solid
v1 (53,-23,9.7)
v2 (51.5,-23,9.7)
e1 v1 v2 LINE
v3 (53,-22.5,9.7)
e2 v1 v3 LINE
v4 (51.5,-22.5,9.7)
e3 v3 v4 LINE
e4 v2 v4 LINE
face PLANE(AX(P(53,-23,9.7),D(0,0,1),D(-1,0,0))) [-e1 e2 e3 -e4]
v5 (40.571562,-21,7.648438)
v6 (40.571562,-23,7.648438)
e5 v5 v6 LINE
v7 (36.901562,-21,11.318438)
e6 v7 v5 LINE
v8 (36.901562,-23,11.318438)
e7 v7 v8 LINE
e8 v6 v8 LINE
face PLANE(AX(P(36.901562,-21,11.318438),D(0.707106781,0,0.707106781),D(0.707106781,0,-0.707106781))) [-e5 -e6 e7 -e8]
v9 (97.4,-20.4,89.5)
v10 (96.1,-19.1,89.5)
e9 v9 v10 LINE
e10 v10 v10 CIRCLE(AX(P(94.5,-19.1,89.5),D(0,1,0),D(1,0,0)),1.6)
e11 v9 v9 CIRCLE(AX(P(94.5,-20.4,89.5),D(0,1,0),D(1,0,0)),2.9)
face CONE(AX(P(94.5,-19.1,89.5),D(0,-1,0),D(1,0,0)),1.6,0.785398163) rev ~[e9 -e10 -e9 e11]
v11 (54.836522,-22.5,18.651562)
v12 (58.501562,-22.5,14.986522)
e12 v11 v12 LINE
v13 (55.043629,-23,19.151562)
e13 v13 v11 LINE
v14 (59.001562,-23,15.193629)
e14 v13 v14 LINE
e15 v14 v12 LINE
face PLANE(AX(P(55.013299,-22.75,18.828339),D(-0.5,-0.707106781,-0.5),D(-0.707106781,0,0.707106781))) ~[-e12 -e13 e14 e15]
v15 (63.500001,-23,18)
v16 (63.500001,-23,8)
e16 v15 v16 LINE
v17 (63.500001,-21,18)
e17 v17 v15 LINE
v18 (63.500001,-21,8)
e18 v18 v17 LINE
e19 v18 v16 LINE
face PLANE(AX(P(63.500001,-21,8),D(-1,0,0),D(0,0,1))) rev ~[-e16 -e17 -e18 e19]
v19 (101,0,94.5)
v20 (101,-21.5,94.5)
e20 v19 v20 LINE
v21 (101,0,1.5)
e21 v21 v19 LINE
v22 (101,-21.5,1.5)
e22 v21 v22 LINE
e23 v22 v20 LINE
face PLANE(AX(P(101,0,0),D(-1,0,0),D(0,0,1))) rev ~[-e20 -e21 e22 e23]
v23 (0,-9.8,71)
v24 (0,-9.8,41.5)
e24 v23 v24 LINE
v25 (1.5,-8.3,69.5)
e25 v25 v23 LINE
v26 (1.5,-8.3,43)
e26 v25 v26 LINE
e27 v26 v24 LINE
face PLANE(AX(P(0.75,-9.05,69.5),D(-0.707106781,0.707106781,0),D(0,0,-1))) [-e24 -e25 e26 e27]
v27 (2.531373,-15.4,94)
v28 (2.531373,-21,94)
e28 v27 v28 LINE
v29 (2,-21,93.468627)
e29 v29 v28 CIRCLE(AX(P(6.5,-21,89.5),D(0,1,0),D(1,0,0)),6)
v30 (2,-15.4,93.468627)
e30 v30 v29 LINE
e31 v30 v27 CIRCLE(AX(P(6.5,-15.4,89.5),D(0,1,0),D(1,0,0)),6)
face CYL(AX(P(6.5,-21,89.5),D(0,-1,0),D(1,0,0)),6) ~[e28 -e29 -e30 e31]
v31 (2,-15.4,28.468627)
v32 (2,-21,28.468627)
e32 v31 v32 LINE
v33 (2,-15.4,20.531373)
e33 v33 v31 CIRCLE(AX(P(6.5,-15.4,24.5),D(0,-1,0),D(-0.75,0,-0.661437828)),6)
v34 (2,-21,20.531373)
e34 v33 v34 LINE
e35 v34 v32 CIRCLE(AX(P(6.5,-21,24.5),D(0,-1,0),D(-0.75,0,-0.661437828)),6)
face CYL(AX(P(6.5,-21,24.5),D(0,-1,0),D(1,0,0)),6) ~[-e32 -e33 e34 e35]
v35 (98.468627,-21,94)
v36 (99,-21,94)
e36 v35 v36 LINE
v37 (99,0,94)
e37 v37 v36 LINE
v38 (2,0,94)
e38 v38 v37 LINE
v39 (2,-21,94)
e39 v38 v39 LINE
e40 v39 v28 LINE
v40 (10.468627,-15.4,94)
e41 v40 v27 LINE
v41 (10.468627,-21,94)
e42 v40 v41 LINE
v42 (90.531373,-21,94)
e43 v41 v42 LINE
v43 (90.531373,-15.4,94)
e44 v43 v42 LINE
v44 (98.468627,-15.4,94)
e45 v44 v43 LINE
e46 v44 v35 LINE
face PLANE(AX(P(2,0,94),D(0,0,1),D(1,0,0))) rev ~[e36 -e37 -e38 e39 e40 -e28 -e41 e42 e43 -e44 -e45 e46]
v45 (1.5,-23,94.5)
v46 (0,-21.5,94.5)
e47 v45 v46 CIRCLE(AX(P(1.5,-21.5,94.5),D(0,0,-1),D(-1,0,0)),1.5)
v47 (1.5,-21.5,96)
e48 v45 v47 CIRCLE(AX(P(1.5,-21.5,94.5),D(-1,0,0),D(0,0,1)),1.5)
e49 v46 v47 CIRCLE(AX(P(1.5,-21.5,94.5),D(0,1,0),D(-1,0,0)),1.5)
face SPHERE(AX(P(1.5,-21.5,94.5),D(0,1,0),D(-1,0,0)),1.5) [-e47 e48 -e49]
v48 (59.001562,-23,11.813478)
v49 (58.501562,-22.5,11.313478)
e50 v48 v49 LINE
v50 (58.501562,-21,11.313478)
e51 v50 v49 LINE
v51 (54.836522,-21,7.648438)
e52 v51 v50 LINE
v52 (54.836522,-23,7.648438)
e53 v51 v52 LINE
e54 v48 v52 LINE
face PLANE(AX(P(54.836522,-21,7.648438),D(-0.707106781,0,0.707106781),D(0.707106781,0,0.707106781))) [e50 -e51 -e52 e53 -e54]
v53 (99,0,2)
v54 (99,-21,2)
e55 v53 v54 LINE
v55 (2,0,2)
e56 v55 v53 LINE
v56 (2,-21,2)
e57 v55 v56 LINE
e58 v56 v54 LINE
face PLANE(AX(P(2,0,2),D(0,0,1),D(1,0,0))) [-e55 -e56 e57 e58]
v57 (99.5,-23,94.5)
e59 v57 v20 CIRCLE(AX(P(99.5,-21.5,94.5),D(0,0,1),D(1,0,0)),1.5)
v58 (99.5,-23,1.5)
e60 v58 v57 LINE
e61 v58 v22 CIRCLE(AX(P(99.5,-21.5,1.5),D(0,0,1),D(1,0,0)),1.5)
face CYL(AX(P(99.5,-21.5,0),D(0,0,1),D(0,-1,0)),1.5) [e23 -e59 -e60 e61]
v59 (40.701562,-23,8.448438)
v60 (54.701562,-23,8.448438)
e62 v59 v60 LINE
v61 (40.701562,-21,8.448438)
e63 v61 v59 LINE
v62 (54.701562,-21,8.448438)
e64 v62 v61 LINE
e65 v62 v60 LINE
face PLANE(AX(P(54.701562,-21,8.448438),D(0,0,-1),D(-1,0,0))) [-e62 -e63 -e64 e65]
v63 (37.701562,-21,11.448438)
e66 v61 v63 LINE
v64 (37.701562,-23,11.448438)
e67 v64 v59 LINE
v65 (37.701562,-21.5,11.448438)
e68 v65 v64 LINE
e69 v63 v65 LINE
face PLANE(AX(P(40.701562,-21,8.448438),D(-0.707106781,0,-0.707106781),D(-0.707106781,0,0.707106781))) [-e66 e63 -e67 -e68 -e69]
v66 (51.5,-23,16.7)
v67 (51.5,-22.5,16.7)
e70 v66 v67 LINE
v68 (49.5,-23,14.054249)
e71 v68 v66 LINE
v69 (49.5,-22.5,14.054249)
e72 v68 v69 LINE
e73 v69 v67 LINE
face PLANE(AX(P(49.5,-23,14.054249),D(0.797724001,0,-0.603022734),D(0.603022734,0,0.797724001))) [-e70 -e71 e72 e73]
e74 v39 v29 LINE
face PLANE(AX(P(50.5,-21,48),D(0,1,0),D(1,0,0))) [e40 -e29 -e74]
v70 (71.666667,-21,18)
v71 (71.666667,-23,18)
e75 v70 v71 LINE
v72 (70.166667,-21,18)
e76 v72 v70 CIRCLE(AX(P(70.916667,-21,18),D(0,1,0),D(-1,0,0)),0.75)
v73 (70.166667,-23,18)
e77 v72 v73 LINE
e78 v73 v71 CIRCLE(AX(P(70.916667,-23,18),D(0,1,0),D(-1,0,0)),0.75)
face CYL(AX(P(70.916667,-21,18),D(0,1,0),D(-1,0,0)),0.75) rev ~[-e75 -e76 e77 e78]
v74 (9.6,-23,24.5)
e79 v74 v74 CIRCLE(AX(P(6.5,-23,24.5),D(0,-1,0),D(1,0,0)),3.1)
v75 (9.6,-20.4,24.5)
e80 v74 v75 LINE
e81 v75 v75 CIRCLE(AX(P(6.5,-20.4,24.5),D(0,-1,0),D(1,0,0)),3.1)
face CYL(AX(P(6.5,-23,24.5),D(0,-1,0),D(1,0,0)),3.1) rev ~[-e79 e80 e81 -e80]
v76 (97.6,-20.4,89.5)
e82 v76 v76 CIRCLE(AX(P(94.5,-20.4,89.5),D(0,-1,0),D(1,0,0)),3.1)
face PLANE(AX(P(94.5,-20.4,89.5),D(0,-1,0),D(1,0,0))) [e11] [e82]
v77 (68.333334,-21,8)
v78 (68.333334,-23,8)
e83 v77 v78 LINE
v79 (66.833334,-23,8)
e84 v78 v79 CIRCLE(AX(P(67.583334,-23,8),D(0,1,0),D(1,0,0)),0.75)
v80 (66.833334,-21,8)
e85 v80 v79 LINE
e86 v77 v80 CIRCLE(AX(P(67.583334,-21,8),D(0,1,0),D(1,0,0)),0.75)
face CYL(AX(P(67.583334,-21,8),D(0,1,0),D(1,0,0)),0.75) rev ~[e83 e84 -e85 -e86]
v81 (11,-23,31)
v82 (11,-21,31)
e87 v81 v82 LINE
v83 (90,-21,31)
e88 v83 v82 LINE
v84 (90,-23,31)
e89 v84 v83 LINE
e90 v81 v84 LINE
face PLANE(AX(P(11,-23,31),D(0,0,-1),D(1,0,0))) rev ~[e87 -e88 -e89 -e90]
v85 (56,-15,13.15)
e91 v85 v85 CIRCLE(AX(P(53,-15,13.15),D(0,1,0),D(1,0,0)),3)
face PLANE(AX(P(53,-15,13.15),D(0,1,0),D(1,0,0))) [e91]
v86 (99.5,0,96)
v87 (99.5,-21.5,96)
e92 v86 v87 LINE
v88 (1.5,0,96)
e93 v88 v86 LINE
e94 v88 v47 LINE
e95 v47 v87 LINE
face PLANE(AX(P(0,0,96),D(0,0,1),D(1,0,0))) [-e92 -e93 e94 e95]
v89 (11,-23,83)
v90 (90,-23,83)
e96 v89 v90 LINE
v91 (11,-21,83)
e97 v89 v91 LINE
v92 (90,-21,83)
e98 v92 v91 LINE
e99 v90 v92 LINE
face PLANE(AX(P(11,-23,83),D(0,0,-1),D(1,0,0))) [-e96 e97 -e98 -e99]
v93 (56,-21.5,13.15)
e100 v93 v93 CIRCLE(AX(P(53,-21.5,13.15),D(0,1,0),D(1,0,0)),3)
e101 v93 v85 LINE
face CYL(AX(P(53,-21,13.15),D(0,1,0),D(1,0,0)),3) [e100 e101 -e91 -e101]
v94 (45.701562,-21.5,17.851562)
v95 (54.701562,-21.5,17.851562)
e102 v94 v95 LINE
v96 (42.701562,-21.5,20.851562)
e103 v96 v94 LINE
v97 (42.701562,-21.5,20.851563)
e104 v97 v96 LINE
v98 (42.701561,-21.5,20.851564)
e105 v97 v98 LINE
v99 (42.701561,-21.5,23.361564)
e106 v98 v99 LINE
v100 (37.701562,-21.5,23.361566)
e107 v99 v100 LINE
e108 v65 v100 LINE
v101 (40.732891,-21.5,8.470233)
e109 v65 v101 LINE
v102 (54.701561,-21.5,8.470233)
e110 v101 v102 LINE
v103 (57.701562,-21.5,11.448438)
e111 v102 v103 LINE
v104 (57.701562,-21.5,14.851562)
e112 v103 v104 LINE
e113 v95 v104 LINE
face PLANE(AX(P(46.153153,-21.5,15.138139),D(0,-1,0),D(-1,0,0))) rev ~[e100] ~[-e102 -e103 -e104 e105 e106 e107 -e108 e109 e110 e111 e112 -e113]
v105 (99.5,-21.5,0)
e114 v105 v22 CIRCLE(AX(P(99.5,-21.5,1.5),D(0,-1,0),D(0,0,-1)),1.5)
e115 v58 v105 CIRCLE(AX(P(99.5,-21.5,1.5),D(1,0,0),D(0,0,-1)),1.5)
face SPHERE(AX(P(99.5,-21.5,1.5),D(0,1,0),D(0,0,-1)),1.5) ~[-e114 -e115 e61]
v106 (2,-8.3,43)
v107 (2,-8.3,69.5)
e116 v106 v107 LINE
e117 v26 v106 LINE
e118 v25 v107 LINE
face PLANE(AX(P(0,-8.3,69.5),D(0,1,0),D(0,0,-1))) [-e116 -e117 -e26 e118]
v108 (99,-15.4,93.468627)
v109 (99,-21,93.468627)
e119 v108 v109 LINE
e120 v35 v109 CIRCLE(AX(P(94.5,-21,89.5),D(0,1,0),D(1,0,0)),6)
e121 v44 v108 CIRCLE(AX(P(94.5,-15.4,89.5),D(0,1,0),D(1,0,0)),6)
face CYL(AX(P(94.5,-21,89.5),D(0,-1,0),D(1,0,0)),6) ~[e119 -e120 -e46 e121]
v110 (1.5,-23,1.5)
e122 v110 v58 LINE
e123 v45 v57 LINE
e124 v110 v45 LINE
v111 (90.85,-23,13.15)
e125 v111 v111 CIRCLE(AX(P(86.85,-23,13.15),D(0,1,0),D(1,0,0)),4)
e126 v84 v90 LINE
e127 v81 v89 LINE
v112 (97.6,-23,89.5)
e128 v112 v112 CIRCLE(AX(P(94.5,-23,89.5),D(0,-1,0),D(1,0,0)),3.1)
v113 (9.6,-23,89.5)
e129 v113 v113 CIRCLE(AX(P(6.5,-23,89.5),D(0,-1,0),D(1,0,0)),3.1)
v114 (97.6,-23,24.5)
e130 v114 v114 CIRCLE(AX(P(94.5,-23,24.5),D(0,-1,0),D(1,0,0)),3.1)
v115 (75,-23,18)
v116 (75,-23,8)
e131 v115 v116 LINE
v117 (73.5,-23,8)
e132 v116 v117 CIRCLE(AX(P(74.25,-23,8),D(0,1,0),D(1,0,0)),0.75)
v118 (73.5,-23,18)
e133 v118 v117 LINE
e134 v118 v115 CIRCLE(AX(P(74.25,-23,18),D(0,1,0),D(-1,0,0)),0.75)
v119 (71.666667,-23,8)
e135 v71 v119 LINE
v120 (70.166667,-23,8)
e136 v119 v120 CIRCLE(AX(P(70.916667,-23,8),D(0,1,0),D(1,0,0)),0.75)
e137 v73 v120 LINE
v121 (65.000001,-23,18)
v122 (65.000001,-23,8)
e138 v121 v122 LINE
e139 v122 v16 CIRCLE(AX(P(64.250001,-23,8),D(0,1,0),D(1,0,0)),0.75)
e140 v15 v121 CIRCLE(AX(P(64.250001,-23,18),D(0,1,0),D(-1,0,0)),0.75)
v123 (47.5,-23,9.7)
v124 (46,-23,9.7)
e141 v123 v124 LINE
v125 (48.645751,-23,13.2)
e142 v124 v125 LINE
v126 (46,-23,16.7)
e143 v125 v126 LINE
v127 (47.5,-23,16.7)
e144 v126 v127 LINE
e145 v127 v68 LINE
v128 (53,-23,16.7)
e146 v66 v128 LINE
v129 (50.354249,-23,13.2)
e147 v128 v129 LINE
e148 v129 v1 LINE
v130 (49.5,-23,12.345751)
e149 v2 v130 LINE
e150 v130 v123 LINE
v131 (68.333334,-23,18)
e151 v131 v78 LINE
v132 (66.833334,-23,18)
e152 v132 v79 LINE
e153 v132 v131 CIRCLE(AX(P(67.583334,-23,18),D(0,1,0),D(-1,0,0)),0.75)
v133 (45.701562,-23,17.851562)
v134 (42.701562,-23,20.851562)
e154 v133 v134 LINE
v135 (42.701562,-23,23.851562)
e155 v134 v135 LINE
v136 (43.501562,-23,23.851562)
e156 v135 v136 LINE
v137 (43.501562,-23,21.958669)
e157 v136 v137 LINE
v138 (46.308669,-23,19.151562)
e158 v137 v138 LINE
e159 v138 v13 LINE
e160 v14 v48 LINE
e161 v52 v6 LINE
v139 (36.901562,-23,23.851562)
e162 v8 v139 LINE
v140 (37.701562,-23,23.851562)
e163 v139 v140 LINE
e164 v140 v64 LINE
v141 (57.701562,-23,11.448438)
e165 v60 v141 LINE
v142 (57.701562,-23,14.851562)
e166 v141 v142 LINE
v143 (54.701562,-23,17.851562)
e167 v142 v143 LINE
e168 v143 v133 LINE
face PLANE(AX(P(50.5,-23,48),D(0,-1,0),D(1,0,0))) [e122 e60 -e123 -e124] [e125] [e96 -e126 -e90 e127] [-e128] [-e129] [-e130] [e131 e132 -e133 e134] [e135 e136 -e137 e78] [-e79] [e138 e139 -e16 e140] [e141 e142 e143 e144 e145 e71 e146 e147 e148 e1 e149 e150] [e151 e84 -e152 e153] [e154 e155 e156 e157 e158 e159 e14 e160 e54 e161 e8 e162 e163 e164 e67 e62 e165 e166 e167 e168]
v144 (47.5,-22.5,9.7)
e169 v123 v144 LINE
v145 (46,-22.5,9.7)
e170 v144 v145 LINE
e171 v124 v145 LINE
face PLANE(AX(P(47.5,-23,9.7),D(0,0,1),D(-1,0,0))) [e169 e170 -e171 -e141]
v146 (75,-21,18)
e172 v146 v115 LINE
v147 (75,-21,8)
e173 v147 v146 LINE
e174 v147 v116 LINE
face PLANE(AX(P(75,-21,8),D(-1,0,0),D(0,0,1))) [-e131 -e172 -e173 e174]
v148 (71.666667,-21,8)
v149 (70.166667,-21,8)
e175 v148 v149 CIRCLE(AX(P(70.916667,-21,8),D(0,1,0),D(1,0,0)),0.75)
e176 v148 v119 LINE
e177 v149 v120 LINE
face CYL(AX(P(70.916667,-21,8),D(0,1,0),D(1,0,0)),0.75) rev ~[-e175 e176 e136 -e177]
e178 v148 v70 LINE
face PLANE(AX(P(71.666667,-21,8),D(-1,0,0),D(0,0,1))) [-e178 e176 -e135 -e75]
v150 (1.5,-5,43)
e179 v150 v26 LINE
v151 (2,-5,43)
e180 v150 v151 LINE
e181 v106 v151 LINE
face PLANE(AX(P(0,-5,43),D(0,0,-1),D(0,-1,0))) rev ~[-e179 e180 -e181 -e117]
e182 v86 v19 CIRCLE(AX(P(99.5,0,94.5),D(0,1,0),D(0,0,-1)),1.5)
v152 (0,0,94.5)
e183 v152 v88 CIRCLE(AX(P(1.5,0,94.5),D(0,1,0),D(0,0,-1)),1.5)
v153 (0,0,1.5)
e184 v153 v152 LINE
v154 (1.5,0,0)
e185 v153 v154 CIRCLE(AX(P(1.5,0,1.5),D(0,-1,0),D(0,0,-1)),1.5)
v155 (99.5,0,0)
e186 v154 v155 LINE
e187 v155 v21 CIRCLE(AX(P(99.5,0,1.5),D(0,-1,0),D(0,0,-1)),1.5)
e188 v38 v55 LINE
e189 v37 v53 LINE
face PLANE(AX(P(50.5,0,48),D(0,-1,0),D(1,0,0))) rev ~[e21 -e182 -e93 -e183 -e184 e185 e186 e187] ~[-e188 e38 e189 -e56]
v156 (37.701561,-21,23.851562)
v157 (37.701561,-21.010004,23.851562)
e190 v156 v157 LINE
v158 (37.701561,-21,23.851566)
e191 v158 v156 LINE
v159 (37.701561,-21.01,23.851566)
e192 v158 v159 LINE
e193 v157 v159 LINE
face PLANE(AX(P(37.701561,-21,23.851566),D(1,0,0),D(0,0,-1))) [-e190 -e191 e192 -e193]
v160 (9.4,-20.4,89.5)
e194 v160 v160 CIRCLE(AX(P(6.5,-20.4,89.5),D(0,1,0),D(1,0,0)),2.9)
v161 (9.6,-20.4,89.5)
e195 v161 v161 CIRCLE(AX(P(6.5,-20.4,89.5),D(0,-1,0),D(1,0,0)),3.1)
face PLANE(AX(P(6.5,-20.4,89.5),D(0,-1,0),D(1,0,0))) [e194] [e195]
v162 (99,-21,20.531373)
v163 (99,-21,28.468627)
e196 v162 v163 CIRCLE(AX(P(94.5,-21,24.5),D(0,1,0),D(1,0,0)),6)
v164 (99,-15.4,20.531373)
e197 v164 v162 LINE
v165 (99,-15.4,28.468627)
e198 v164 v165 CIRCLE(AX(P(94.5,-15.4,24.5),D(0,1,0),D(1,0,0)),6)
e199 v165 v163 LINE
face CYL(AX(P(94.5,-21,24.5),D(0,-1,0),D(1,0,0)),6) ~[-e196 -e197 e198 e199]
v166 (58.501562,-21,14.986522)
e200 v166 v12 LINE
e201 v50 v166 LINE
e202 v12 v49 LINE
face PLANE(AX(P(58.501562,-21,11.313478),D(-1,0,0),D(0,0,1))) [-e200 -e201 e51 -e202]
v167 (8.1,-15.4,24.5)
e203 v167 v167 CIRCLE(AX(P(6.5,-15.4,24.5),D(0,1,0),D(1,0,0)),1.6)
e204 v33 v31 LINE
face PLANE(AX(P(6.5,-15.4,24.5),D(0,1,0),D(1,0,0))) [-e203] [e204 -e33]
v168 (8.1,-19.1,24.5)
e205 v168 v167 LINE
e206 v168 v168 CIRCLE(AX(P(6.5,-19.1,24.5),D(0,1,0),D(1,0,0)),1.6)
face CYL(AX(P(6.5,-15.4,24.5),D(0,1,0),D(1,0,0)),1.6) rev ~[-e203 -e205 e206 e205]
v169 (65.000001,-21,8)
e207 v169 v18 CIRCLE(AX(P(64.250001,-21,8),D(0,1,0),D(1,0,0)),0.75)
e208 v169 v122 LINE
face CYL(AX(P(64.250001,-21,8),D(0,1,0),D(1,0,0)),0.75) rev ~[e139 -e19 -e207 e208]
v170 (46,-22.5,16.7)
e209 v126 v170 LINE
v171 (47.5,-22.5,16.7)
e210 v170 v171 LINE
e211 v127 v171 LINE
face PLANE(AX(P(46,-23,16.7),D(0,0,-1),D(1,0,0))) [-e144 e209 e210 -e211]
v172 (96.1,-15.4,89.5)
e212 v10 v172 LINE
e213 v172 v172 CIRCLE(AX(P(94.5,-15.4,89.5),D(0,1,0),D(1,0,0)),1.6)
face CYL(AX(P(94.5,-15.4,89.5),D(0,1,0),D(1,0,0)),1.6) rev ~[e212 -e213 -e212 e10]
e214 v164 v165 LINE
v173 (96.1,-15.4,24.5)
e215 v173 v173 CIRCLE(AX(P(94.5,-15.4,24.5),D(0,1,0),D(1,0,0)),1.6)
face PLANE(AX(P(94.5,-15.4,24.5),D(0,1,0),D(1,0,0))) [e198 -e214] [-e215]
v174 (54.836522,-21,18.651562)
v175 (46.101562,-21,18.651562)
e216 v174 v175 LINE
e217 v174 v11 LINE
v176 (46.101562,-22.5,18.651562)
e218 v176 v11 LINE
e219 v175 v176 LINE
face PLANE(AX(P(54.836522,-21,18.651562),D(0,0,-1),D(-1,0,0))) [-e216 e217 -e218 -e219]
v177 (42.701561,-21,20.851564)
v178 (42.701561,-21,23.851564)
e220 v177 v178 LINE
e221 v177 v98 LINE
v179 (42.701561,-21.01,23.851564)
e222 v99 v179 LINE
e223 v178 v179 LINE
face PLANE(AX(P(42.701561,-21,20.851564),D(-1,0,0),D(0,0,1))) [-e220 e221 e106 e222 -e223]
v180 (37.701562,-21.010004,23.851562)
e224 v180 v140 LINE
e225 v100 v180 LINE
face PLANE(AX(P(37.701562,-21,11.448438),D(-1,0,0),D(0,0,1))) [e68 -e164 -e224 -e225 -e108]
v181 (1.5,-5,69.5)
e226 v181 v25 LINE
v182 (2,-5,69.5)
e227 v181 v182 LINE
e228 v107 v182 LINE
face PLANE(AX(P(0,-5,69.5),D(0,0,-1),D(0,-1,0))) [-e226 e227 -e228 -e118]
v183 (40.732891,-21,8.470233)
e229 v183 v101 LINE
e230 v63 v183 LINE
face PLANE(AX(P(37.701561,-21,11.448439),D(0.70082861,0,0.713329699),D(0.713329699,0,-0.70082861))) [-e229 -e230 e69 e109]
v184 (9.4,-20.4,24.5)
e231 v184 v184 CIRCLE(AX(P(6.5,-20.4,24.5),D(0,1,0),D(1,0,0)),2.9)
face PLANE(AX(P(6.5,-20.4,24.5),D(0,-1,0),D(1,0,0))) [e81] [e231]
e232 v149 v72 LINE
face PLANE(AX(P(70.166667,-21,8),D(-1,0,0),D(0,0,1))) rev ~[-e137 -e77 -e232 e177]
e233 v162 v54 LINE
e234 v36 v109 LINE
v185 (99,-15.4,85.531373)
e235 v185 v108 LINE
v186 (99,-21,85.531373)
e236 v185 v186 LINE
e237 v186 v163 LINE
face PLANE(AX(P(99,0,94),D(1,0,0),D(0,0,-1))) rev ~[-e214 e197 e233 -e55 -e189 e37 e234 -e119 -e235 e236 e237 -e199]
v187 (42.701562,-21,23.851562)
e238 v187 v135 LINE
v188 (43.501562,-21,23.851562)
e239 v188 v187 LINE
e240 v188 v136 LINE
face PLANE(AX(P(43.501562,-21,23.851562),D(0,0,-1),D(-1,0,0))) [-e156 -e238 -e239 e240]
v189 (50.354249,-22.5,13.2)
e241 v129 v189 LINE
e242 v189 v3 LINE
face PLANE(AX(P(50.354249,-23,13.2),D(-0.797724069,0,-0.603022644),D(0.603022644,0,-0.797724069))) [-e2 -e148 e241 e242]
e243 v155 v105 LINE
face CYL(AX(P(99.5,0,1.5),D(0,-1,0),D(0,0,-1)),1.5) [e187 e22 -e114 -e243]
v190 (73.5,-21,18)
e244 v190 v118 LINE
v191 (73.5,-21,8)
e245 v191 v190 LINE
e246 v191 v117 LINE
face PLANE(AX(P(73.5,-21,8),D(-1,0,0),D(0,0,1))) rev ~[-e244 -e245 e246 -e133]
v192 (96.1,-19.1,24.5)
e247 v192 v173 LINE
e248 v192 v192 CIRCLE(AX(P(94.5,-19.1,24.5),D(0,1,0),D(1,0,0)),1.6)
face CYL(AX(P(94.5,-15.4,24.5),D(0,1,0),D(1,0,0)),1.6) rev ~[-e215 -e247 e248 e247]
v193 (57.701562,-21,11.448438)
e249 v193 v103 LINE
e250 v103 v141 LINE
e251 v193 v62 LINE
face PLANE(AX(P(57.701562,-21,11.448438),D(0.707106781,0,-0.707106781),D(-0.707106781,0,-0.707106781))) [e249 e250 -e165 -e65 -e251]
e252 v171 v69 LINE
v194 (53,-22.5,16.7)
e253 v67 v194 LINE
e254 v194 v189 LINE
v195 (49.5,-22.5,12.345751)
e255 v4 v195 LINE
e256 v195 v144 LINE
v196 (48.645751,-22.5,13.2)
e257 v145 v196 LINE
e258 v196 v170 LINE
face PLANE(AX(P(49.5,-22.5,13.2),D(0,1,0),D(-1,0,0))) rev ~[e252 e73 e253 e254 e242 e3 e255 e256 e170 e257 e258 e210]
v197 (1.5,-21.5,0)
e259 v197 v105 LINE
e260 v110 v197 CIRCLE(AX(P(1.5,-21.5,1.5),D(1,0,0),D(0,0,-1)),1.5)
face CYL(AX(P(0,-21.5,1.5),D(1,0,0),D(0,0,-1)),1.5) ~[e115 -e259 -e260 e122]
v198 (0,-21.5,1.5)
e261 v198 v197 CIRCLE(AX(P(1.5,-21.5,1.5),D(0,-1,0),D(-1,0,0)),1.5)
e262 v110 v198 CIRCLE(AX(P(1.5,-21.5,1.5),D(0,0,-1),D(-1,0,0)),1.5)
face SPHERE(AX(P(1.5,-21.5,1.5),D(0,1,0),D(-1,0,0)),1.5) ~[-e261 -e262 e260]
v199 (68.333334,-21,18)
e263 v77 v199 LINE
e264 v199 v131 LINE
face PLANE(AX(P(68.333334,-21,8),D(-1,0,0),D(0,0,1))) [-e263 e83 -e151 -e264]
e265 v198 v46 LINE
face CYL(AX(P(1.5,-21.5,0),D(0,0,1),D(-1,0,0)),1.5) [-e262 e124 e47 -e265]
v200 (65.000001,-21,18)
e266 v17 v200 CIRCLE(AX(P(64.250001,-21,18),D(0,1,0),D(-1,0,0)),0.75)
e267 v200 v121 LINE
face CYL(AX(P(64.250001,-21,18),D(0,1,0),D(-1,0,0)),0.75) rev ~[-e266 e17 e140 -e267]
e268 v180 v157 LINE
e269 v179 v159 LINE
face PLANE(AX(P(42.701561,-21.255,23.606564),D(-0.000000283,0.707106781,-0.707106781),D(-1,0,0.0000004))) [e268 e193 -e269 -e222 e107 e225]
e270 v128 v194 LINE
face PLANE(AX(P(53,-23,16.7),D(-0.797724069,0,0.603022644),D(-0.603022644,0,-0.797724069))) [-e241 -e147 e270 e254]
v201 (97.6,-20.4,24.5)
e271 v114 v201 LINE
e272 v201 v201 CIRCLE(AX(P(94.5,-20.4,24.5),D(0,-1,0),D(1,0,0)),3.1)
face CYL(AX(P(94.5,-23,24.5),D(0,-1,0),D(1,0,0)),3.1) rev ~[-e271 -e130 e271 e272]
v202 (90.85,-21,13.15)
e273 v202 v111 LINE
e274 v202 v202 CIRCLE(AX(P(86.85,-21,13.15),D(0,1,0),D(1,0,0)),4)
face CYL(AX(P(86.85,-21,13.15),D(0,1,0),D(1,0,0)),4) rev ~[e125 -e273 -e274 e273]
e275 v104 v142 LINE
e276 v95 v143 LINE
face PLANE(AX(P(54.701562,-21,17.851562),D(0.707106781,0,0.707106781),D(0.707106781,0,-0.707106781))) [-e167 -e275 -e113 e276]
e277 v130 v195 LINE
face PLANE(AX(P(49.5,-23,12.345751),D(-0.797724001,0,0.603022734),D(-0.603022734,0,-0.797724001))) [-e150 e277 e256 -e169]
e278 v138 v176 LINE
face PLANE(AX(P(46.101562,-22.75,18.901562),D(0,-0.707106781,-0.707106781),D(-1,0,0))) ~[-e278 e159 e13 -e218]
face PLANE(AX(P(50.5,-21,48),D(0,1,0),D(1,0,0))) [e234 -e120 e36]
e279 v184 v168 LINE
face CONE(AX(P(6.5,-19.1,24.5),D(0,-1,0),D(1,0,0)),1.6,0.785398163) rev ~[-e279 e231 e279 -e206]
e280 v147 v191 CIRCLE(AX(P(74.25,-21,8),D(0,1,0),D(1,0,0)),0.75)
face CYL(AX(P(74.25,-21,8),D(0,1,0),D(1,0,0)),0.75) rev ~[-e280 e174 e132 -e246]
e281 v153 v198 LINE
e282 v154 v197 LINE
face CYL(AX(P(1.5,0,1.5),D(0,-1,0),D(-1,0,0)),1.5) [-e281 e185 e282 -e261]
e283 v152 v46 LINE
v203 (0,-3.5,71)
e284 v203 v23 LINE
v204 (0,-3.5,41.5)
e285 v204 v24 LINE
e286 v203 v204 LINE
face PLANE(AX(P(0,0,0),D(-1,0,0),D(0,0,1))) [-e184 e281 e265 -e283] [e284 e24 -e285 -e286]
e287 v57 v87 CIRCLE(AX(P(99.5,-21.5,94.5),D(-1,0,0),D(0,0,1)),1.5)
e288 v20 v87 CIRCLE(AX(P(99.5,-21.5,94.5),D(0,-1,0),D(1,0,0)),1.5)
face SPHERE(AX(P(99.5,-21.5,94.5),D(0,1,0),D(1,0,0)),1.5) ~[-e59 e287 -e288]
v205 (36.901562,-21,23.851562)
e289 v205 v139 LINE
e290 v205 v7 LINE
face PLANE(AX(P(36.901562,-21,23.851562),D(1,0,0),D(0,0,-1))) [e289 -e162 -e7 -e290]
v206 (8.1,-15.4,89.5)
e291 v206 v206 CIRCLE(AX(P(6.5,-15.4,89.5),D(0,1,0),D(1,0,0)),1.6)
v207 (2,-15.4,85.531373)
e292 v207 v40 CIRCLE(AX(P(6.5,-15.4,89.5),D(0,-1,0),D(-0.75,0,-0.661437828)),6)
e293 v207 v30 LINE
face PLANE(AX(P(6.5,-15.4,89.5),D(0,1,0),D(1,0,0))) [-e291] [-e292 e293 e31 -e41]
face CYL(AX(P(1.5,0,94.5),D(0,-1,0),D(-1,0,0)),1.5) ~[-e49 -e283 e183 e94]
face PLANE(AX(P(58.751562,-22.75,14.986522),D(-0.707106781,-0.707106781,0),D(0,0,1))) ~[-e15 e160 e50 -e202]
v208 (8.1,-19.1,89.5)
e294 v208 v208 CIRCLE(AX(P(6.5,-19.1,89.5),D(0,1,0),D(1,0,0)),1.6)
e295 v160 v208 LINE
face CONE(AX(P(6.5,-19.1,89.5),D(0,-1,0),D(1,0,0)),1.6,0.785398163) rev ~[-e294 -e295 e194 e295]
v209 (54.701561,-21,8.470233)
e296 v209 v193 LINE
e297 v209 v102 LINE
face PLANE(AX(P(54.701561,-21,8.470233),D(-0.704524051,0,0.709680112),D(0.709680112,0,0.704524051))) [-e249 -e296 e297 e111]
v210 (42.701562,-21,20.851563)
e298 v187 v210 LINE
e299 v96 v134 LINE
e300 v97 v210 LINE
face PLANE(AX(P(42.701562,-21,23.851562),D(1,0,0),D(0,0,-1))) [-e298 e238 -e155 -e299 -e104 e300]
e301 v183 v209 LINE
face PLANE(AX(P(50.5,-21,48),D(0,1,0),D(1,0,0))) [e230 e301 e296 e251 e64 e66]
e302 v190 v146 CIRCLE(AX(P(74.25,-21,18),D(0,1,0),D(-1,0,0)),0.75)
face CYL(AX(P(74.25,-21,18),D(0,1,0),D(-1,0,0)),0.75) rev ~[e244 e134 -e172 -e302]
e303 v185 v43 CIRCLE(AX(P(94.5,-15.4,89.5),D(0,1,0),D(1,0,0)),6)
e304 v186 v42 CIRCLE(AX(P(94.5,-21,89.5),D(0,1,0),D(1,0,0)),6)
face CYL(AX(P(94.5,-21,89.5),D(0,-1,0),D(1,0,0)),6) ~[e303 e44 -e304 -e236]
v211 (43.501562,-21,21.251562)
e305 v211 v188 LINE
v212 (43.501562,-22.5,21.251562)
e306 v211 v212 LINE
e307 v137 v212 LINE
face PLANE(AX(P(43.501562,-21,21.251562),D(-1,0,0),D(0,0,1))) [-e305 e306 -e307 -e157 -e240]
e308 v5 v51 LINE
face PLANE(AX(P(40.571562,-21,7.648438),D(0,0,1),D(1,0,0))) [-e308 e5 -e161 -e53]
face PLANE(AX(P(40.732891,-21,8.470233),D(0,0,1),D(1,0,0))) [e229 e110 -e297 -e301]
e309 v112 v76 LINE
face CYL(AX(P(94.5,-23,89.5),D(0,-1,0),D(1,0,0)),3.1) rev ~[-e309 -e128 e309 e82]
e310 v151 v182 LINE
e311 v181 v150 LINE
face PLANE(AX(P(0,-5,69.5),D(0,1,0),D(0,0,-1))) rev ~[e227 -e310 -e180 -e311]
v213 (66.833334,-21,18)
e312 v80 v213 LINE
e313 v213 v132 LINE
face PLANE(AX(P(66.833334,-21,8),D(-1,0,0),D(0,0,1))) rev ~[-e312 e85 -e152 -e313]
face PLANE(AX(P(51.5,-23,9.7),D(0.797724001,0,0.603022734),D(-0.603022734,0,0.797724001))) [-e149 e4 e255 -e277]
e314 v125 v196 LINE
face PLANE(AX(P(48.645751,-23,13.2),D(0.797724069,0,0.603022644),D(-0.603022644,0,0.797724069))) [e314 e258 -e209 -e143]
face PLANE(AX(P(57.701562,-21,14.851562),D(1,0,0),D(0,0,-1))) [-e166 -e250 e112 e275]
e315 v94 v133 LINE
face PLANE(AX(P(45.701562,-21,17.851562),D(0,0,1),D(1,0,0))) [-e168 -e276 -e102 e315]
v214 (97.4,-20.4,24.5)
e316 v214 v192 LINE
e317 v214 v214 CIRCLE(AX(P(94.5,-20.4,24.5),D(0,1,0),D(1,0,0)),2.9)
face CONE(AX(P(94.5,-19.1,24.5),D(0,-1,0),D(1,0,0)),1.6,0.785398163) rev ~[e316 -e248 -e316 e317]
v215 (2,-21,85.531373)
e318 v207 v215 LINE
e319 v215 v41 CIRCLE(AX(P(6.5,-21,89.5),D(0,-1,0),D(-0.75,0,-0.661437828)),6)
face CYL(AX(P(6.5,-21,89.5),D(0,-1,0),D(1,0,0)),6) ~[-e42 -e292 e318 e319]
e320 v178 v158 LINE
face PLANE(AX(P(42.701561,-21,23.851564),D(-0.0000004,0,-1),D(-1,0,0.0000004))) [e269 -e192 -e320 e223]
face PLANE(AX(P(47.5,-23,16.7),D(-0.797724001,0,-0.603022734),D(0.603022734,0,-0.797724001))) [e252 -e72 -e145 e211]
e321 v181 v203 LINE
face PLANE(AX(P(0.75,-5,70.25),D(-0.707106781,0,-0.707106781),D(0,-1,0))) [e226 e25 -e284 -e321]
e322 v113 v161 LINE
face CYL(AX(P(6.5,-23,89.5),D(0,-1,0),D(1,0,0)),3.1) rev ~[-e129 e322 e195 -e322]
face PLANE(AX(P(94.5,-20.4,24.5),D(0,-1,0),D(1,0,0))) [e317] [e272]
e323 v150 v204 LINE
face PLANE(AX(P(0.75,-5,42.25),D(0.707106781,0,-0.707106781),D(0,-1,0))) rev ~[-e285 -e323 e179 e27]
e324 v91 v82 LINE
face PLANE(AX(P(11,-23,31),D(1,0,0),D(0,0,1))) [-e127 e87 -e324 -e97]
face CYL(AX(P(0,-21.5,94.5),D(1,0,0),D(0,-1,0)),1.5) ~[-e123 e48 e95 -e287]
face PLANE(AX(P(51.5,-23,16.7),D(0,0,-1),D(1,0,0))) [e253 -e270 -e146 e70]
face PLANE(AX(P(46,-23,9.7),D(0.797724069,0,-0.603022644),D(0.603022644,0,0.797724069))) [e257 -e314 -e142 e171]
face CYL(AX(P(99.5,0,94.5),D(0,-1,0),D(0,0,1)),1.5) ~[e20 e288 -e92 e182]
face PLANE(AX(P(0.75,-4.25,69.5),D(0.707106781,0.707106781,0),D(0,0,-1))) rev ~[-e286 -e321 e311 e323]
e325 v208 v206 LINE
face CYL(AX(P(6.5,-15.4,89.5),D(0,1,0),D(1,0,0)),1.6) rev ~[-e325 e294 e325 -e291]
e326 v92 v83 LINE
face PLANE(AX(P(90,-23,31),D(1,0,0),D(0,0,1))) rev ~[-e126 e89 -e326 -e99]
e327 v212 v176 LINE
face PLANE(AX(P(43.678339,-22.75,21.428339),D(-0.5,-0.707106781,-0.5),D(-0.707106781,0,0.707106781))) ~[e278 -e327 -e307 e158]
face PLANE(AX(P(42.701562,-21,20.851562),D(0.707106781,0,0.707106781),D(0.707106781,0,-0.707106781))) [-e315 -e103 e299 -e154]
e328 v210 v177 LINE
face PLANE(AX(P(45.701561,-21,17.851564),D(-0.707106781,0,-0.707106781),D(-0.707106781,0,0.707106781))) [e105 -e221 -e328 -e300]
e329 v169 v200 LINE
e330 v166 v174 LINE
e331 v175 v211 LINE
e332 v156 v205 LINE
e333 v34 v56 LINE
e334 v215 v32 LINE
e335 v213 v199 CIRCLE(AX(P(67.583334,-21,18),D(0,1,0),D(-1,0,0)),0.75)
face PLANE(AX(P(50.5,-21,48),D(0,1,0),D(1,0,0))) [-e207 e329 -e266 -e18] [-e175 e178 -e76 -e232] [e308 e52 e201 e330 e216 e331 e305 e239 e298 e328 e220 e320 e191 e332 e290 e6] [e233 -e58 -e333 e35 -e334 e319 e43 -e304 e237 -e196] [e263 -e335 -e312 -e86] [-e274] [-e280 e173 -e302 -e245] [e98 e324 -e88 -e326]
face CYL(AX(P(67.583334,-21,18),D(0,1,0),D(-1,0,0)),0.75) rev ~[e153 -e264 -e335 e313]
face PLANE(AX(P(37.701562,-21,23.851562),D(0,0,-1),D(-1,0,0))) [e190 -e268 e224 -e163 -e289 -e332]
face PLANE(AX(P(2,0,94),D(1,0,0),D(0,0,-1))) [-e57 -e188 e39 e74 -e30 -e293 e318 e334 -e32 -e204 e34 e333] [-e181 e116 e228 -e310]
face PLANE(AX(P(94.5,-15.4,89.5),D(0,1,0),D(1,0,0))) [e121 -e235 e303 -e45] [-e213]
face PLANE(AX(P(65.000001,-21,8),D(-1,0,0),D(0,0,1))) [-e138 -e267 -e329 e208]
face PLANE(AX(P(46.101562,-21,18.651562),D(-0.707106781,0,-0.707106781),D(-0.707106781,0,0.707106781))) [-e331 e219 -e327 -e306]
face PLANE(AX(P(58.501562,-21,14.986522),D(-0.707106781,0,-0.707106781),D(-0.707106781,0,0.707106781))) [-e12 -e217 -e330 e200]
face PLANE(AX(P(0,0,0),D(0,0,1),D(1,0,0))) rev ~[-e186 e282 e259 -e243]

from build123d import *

# Parameters (mm, degrees)
SKETCH_W            = 101
SKETCH_H            = 96
PAD_DEPTH           = 23
SKETCH001_W         = 97
SKETCH001_H         = 92
POCKET_DEPTH        = 21
SKETCH002_R         = 6
PAD001_DEPTH        = 5.6
SKETCH003_R         = 1.6
POCKET001_DEPTH     = 7
SKETCH004_R         = 1.6
POCKET002_DEPTH     = 5
SKETCH005_W         = 79
SKETCH005_H         = 52
POCKET003_DEPTH     = 23.001
SKETCH006_R         = 3
PAD002_DEPTH        = 6
POCKET004_DEPTH     = 2.001
LINEARPATTERN_COUNT = 4
LINEARPATTERN_PITCH = 3.333333
SKETCH008_R         = 4
POCKET005_DEPTH     = 2.001
POCKET006_DEPTH     = 2.001
SKETCH010_R         = 3
POCKET007_DEPTH     = 0.5
POCKET008_DEPTH     = 0.5
SKETCH012_W         = 26.5
SKETCH012_H         = 3.3
POCKET009_DEPTH     = 3
CHAMFER_SIZE        = 1.5
FILLET_R            = 1.5
CHAMFER001_SIZE     = 0.5
CHAMFER002_SIZE     = 0.49
SKETCH013_R         = 3.1
POCKET010_DEPTH     = 2.6
CHAMFER003_SIZE     = 1.3


with BuildPart() as part:
    # Sketch → Pad (new body)
    with BuildSketch(Plane.XZ):
        with Locations((50.5, 48)):
            Rectangle(SKETCH_W, SKETCH_H)
    extrude(amount=PAD_DEPTH)

    # Sketch001 (on Face5 of Pad) → Pocket (cut)
    with BuildSketch(Plane(origin=(0, 0, 0), x_dir=(1, 0, 0), z_dir=(0, 1, 0))):
        with Locations((50.5, -48)):
            Rectangle(SKETCH001_W, SKETCH001_H)
    extrude(amount=-POCKET_DEPTH, mode=Mode.SUBTRACT)

    # Sketch002 (on Face11 of Pocket) → Pad001 (join)
    with BuildSketch(Plane(origin=(0, -21, 0), x_dir=(1, 0, 0), z_dir=(0, 1, 0))):
        with Locations((94.5, -89.5)):
            Circle(SKETCH002_R)
        with Locations((94.5, -24.5)):
            Circle(SKETCH002_R)
        with Locations((6.5, -24.5)):
            Circle(SKETCH002_R)
        with Locations((6.5, -89.5)):
            Circle(SKETCH002_R)
    extrude(amount=PAD001_DEPTH)

    # Sketch003 (on Face17 of Pad001) → Pocket001 (cut)
    with BuildSketch(Plane(origin=(0, -15.4, 0), x_dir=(1, 0, 0), z_dir=(0, 1, 0))):
        with Locations((6.5, -24.5)):
            Circle(SKETCH003_R)
        with Locations((94.5, -24.5)):
            Circle(SKETCH003_R)
        with Locations((6.5, -89.5)):
            Circle(SKETCH003_R)
        with Locations((94.5, -89.5)):
            Circle(SKETCH003_R)
    extrude(amount=-POCKET001_DEPTH, mode=Mode.SUBTRACT)

    # Sketch004 (on Face14 of Pocket001) → Pocket002 (cut)
    with BuildSketch(Plane(origin=(0, -15.4, 0), x_dir=(1, 0, 0), z_dir=(0, 1, 0))):
        with Locations((6.5, -24.5)):
            Circle(SKETCH004_R)
        with Locations((94.5, -24.5)):
            Circle(SKETCH004_R)
        with Locations((94.5, -89.5)):
            Circle(SKETCH004_R)
        with Locations((6.5, -89.5)):
            Circle(SKETCH004_R)
    extrude(amount=-POCKET002_DEPTH, mode=Mode.SUBTRACT)

    # Sketch005 (on Face5 of Pocket002) → Pocket003 (cut, through all)
    with BuildSketch(Plane.XZ.offset(23)):
        with Locations((50.5, 57)):
            Rectangle(SKETCH005_W, SKETCH005_H)
    extrude(amount=-POCKET003_DEPTH, mode=Mode.SUBTRACT)

    # Sketch006 (on Face15 of Pocket003) → Pad002 (join)
    with BuildSketch(Plane(origin=(0, -21, 0), x_dir=(1, 0, 0), z_dir=(0, 1, 0))):
        with Locations((53, -13.15)):
            Circle(SKETCH006_R)
    extrude(amount=PAD002_DEPTH)

    # Sketch007 (on Face15 of Pad002) → Pocket004 (cut, through all)
    with BuildSketch(Plane(origin=(0, -21, 0), x_dir=(1, 0, 0), z_dir=(0, 1, 0))):
        with BuildLine():
            ThreePointArc((75, -8), (74.25, -7.25), (73.5, -8))
            Line((73.5, -8), (73.5, -18))
            ThreePointArc((73.5, -18), (74.25, -18.75), (75, -18))
            Line((75, -8), (75, -18))
        make_face()
    pocket004 = extrude(amount=-POCKET004_DEPTH, mode=Mode.SUBTRACT)

    # LinearPattern: Pocket004 ×4
    with Locations(*[(-i * LINEARPATTERN_PITCH, 0, 0) for i in range(1, LINEARPATTERN_COUNT)]):
        add(pocket004, mode=Mode.SUBTRACT)

    # Sketch008 (on Face31 of LinearPattern) → Pocket005 (cut, through all)
    with BuildSketch(Plane(origin=(0, -21, 0), x_dir=(1, 0, 0), z_dir=(0, 1, 0))):
        with Locations((86.85, -13.15)):
            Circle(SKETCH008_R)
    extrude(amount=-POCKET005_DEPTH, mode=Mode.SUBTRACT)

    # Sketch009 (on Face32 of Pocket005) → Pocket006 (cut, through all)
    with BuildSketch(Plane(origin=(0, -21, 0), x_dir=(1, 0, 0), z_dir=(0, 1, 0))):
        Polygon((57.701562, -14.851562), (57.701562, -11.448438), (54.701562, -8.448438), (40.701562, -8.448438), (37.701562, -11.448438), (37.701562, -23.851562), (36.901562, -23.851562), (36.901562, -11.318438), (40.571562, -7.648438), (54.836522, -7.648438), (58.501562, -11.313478), (58.501562, -14.986522), (54.836522, -18.651562), (46.101562, -18.651562), (43.501562, -21.251562), (43.501562, -23.851562), (42.701562, -23.851562), (42.701562, -20.851562), (45.701562, -17.851562), (54.701562, -17.851562), align=None)
    extrude(amount=-POCKET006_DEPTH, mode=Mode.SUBTRACT)

    # Sketch010 (on Face52 of Pocket006) → Pocket007 (cut)
    with BuildSketch(Plane(origin=(0, -21, 0), x_dir=(1, 0, 0), z_dir=(0, 1, 0))):
        Polygon((42.701561, -23.851564), (37.701561, -23.851566), (37.701561, -11.448439), (40.732891, -8.470233), (54.701561, -8.470233), (57.701562, -11.448438), (57.701562, -14.851564), (54.701561, -17.851564), (45.701561, -17.851564), (42.701561, -20.851564), align=None)
        with Locations((53, -13.15)):
            Circle(SKETCH010_R, mode=Mode.SUBTRACT)
    extrude(amount=-POCKET007_DEPTH, mode=Mode.SUBTRACT)

    # Sketch011 (on Face5 of Pocket007) → Pocket008 (cut)
    with BuildSketch(Plane.XZ.offset(23)):
        Polygon((46, 16.7), (47.5, 16.7), (49.5, 14.054249), (51.5, 16.7), (53, 16.7), (50.354249, 13.2), (53, 9.7), (51.5, 9.7), (49.5, 12.345751), (47.5, 9.7), (46, 9.7), (48.645751, 13.2), align=None)
    extrude(amount=-POCKET008_DEPTH, mode=Mode.SUBTRACT)

    # Sketch012 (on Face2 of Pocket008) → Pocket009 (cut)
    with BuildSketch(Plane(origin=(0, 0, 0), x_dir=(0, 0, -1), z_dir=(-1, 0, 0))):
        with Locations((-56.25, 6.65)):
            Rectangle(SKETCH012_W, SKETCH012_H)
    extrude(amount=-POCKET009_DEPTH, mode=Mode.SUBTRACT)

    # Chamfer
    chamfer_edges = [part.edges().sort_by_distance(p)[0] for p in [
        (0, -8.3, 56.25),
        (0, -6.65, 69.5),
        (0, -6.65, 43),
        (0, -5, 56.25),
    ]]
    chamfer(chamfer_edges, length=CHAMFER_SIZE)

    # Fillet
    fillet_edges = [part.edges().sort_by_distance(p)[0] for p in [
        (101, -11.5, 96),
        (101, -11.5, 0),
        (0, -11.5, 96),
        (0, -11.5, 0),
        (0, -23, 48),
        (50.5, -23, 0),
        (101, -23, 48),
        (50.5, -23, 96),
    ]]
    fillet(fillet_edges, radius=FILLET_R)

    # Chamfer001
    chamfer001_edges = [part.edges().sort_by_distance(p)[0] for p in [
        (44.801562, -23, 19.951562),
        (58.501562, -23, 13.15),
        (56.669042, -23, 16.819042),
        (50.469042, -23, 18.651562),
    ]]
    chamfer(chamfer001_edges, length=CHAMFER001_SIZE)

    # Chamfer002
    chamfer002_edges = [part.edges().sort_by_distance(p)[0] for p in [
        (40.201561, -21.5, 23.851565),
    ]]
    chamfer(chamfer002_edges, length=CHAMFER002_SIZE)

    # Sketch013 (on Face4 of Chamfer002) → Pocket010 (cut)
    with BuildSketch(Plane.XZ.offset(23)):
        with Locations((94.5, 89.5)):
            Circle(SKETCH013_R)
        with Locations((6.5, 89.5)):
            Circle(SKETCH013_R)
        with Locations((6.5, 24.5)):
            Circle(SKETCH013_R)
        with Locations((94.5, 24.5)):
            Circle(SKETCH013_R)
    extrude(amount=-POCKET010_DEPTH, mode=Mode.SUBTRACT)

    # Chamfer003
    chamfer003_edges = [part.edges().sort_by_distance(p)[0] for p in [
        (4.9, -20.4, 89.5),
        (4.9, -20.4, 24.5),
        (92.9, -20.4, 24.5),
        (92.9, -20.4, 89.5),
    ]]
    chamfer(chamfer003_edges, length=CHAMFER003_SIZE)


solid = part.part
